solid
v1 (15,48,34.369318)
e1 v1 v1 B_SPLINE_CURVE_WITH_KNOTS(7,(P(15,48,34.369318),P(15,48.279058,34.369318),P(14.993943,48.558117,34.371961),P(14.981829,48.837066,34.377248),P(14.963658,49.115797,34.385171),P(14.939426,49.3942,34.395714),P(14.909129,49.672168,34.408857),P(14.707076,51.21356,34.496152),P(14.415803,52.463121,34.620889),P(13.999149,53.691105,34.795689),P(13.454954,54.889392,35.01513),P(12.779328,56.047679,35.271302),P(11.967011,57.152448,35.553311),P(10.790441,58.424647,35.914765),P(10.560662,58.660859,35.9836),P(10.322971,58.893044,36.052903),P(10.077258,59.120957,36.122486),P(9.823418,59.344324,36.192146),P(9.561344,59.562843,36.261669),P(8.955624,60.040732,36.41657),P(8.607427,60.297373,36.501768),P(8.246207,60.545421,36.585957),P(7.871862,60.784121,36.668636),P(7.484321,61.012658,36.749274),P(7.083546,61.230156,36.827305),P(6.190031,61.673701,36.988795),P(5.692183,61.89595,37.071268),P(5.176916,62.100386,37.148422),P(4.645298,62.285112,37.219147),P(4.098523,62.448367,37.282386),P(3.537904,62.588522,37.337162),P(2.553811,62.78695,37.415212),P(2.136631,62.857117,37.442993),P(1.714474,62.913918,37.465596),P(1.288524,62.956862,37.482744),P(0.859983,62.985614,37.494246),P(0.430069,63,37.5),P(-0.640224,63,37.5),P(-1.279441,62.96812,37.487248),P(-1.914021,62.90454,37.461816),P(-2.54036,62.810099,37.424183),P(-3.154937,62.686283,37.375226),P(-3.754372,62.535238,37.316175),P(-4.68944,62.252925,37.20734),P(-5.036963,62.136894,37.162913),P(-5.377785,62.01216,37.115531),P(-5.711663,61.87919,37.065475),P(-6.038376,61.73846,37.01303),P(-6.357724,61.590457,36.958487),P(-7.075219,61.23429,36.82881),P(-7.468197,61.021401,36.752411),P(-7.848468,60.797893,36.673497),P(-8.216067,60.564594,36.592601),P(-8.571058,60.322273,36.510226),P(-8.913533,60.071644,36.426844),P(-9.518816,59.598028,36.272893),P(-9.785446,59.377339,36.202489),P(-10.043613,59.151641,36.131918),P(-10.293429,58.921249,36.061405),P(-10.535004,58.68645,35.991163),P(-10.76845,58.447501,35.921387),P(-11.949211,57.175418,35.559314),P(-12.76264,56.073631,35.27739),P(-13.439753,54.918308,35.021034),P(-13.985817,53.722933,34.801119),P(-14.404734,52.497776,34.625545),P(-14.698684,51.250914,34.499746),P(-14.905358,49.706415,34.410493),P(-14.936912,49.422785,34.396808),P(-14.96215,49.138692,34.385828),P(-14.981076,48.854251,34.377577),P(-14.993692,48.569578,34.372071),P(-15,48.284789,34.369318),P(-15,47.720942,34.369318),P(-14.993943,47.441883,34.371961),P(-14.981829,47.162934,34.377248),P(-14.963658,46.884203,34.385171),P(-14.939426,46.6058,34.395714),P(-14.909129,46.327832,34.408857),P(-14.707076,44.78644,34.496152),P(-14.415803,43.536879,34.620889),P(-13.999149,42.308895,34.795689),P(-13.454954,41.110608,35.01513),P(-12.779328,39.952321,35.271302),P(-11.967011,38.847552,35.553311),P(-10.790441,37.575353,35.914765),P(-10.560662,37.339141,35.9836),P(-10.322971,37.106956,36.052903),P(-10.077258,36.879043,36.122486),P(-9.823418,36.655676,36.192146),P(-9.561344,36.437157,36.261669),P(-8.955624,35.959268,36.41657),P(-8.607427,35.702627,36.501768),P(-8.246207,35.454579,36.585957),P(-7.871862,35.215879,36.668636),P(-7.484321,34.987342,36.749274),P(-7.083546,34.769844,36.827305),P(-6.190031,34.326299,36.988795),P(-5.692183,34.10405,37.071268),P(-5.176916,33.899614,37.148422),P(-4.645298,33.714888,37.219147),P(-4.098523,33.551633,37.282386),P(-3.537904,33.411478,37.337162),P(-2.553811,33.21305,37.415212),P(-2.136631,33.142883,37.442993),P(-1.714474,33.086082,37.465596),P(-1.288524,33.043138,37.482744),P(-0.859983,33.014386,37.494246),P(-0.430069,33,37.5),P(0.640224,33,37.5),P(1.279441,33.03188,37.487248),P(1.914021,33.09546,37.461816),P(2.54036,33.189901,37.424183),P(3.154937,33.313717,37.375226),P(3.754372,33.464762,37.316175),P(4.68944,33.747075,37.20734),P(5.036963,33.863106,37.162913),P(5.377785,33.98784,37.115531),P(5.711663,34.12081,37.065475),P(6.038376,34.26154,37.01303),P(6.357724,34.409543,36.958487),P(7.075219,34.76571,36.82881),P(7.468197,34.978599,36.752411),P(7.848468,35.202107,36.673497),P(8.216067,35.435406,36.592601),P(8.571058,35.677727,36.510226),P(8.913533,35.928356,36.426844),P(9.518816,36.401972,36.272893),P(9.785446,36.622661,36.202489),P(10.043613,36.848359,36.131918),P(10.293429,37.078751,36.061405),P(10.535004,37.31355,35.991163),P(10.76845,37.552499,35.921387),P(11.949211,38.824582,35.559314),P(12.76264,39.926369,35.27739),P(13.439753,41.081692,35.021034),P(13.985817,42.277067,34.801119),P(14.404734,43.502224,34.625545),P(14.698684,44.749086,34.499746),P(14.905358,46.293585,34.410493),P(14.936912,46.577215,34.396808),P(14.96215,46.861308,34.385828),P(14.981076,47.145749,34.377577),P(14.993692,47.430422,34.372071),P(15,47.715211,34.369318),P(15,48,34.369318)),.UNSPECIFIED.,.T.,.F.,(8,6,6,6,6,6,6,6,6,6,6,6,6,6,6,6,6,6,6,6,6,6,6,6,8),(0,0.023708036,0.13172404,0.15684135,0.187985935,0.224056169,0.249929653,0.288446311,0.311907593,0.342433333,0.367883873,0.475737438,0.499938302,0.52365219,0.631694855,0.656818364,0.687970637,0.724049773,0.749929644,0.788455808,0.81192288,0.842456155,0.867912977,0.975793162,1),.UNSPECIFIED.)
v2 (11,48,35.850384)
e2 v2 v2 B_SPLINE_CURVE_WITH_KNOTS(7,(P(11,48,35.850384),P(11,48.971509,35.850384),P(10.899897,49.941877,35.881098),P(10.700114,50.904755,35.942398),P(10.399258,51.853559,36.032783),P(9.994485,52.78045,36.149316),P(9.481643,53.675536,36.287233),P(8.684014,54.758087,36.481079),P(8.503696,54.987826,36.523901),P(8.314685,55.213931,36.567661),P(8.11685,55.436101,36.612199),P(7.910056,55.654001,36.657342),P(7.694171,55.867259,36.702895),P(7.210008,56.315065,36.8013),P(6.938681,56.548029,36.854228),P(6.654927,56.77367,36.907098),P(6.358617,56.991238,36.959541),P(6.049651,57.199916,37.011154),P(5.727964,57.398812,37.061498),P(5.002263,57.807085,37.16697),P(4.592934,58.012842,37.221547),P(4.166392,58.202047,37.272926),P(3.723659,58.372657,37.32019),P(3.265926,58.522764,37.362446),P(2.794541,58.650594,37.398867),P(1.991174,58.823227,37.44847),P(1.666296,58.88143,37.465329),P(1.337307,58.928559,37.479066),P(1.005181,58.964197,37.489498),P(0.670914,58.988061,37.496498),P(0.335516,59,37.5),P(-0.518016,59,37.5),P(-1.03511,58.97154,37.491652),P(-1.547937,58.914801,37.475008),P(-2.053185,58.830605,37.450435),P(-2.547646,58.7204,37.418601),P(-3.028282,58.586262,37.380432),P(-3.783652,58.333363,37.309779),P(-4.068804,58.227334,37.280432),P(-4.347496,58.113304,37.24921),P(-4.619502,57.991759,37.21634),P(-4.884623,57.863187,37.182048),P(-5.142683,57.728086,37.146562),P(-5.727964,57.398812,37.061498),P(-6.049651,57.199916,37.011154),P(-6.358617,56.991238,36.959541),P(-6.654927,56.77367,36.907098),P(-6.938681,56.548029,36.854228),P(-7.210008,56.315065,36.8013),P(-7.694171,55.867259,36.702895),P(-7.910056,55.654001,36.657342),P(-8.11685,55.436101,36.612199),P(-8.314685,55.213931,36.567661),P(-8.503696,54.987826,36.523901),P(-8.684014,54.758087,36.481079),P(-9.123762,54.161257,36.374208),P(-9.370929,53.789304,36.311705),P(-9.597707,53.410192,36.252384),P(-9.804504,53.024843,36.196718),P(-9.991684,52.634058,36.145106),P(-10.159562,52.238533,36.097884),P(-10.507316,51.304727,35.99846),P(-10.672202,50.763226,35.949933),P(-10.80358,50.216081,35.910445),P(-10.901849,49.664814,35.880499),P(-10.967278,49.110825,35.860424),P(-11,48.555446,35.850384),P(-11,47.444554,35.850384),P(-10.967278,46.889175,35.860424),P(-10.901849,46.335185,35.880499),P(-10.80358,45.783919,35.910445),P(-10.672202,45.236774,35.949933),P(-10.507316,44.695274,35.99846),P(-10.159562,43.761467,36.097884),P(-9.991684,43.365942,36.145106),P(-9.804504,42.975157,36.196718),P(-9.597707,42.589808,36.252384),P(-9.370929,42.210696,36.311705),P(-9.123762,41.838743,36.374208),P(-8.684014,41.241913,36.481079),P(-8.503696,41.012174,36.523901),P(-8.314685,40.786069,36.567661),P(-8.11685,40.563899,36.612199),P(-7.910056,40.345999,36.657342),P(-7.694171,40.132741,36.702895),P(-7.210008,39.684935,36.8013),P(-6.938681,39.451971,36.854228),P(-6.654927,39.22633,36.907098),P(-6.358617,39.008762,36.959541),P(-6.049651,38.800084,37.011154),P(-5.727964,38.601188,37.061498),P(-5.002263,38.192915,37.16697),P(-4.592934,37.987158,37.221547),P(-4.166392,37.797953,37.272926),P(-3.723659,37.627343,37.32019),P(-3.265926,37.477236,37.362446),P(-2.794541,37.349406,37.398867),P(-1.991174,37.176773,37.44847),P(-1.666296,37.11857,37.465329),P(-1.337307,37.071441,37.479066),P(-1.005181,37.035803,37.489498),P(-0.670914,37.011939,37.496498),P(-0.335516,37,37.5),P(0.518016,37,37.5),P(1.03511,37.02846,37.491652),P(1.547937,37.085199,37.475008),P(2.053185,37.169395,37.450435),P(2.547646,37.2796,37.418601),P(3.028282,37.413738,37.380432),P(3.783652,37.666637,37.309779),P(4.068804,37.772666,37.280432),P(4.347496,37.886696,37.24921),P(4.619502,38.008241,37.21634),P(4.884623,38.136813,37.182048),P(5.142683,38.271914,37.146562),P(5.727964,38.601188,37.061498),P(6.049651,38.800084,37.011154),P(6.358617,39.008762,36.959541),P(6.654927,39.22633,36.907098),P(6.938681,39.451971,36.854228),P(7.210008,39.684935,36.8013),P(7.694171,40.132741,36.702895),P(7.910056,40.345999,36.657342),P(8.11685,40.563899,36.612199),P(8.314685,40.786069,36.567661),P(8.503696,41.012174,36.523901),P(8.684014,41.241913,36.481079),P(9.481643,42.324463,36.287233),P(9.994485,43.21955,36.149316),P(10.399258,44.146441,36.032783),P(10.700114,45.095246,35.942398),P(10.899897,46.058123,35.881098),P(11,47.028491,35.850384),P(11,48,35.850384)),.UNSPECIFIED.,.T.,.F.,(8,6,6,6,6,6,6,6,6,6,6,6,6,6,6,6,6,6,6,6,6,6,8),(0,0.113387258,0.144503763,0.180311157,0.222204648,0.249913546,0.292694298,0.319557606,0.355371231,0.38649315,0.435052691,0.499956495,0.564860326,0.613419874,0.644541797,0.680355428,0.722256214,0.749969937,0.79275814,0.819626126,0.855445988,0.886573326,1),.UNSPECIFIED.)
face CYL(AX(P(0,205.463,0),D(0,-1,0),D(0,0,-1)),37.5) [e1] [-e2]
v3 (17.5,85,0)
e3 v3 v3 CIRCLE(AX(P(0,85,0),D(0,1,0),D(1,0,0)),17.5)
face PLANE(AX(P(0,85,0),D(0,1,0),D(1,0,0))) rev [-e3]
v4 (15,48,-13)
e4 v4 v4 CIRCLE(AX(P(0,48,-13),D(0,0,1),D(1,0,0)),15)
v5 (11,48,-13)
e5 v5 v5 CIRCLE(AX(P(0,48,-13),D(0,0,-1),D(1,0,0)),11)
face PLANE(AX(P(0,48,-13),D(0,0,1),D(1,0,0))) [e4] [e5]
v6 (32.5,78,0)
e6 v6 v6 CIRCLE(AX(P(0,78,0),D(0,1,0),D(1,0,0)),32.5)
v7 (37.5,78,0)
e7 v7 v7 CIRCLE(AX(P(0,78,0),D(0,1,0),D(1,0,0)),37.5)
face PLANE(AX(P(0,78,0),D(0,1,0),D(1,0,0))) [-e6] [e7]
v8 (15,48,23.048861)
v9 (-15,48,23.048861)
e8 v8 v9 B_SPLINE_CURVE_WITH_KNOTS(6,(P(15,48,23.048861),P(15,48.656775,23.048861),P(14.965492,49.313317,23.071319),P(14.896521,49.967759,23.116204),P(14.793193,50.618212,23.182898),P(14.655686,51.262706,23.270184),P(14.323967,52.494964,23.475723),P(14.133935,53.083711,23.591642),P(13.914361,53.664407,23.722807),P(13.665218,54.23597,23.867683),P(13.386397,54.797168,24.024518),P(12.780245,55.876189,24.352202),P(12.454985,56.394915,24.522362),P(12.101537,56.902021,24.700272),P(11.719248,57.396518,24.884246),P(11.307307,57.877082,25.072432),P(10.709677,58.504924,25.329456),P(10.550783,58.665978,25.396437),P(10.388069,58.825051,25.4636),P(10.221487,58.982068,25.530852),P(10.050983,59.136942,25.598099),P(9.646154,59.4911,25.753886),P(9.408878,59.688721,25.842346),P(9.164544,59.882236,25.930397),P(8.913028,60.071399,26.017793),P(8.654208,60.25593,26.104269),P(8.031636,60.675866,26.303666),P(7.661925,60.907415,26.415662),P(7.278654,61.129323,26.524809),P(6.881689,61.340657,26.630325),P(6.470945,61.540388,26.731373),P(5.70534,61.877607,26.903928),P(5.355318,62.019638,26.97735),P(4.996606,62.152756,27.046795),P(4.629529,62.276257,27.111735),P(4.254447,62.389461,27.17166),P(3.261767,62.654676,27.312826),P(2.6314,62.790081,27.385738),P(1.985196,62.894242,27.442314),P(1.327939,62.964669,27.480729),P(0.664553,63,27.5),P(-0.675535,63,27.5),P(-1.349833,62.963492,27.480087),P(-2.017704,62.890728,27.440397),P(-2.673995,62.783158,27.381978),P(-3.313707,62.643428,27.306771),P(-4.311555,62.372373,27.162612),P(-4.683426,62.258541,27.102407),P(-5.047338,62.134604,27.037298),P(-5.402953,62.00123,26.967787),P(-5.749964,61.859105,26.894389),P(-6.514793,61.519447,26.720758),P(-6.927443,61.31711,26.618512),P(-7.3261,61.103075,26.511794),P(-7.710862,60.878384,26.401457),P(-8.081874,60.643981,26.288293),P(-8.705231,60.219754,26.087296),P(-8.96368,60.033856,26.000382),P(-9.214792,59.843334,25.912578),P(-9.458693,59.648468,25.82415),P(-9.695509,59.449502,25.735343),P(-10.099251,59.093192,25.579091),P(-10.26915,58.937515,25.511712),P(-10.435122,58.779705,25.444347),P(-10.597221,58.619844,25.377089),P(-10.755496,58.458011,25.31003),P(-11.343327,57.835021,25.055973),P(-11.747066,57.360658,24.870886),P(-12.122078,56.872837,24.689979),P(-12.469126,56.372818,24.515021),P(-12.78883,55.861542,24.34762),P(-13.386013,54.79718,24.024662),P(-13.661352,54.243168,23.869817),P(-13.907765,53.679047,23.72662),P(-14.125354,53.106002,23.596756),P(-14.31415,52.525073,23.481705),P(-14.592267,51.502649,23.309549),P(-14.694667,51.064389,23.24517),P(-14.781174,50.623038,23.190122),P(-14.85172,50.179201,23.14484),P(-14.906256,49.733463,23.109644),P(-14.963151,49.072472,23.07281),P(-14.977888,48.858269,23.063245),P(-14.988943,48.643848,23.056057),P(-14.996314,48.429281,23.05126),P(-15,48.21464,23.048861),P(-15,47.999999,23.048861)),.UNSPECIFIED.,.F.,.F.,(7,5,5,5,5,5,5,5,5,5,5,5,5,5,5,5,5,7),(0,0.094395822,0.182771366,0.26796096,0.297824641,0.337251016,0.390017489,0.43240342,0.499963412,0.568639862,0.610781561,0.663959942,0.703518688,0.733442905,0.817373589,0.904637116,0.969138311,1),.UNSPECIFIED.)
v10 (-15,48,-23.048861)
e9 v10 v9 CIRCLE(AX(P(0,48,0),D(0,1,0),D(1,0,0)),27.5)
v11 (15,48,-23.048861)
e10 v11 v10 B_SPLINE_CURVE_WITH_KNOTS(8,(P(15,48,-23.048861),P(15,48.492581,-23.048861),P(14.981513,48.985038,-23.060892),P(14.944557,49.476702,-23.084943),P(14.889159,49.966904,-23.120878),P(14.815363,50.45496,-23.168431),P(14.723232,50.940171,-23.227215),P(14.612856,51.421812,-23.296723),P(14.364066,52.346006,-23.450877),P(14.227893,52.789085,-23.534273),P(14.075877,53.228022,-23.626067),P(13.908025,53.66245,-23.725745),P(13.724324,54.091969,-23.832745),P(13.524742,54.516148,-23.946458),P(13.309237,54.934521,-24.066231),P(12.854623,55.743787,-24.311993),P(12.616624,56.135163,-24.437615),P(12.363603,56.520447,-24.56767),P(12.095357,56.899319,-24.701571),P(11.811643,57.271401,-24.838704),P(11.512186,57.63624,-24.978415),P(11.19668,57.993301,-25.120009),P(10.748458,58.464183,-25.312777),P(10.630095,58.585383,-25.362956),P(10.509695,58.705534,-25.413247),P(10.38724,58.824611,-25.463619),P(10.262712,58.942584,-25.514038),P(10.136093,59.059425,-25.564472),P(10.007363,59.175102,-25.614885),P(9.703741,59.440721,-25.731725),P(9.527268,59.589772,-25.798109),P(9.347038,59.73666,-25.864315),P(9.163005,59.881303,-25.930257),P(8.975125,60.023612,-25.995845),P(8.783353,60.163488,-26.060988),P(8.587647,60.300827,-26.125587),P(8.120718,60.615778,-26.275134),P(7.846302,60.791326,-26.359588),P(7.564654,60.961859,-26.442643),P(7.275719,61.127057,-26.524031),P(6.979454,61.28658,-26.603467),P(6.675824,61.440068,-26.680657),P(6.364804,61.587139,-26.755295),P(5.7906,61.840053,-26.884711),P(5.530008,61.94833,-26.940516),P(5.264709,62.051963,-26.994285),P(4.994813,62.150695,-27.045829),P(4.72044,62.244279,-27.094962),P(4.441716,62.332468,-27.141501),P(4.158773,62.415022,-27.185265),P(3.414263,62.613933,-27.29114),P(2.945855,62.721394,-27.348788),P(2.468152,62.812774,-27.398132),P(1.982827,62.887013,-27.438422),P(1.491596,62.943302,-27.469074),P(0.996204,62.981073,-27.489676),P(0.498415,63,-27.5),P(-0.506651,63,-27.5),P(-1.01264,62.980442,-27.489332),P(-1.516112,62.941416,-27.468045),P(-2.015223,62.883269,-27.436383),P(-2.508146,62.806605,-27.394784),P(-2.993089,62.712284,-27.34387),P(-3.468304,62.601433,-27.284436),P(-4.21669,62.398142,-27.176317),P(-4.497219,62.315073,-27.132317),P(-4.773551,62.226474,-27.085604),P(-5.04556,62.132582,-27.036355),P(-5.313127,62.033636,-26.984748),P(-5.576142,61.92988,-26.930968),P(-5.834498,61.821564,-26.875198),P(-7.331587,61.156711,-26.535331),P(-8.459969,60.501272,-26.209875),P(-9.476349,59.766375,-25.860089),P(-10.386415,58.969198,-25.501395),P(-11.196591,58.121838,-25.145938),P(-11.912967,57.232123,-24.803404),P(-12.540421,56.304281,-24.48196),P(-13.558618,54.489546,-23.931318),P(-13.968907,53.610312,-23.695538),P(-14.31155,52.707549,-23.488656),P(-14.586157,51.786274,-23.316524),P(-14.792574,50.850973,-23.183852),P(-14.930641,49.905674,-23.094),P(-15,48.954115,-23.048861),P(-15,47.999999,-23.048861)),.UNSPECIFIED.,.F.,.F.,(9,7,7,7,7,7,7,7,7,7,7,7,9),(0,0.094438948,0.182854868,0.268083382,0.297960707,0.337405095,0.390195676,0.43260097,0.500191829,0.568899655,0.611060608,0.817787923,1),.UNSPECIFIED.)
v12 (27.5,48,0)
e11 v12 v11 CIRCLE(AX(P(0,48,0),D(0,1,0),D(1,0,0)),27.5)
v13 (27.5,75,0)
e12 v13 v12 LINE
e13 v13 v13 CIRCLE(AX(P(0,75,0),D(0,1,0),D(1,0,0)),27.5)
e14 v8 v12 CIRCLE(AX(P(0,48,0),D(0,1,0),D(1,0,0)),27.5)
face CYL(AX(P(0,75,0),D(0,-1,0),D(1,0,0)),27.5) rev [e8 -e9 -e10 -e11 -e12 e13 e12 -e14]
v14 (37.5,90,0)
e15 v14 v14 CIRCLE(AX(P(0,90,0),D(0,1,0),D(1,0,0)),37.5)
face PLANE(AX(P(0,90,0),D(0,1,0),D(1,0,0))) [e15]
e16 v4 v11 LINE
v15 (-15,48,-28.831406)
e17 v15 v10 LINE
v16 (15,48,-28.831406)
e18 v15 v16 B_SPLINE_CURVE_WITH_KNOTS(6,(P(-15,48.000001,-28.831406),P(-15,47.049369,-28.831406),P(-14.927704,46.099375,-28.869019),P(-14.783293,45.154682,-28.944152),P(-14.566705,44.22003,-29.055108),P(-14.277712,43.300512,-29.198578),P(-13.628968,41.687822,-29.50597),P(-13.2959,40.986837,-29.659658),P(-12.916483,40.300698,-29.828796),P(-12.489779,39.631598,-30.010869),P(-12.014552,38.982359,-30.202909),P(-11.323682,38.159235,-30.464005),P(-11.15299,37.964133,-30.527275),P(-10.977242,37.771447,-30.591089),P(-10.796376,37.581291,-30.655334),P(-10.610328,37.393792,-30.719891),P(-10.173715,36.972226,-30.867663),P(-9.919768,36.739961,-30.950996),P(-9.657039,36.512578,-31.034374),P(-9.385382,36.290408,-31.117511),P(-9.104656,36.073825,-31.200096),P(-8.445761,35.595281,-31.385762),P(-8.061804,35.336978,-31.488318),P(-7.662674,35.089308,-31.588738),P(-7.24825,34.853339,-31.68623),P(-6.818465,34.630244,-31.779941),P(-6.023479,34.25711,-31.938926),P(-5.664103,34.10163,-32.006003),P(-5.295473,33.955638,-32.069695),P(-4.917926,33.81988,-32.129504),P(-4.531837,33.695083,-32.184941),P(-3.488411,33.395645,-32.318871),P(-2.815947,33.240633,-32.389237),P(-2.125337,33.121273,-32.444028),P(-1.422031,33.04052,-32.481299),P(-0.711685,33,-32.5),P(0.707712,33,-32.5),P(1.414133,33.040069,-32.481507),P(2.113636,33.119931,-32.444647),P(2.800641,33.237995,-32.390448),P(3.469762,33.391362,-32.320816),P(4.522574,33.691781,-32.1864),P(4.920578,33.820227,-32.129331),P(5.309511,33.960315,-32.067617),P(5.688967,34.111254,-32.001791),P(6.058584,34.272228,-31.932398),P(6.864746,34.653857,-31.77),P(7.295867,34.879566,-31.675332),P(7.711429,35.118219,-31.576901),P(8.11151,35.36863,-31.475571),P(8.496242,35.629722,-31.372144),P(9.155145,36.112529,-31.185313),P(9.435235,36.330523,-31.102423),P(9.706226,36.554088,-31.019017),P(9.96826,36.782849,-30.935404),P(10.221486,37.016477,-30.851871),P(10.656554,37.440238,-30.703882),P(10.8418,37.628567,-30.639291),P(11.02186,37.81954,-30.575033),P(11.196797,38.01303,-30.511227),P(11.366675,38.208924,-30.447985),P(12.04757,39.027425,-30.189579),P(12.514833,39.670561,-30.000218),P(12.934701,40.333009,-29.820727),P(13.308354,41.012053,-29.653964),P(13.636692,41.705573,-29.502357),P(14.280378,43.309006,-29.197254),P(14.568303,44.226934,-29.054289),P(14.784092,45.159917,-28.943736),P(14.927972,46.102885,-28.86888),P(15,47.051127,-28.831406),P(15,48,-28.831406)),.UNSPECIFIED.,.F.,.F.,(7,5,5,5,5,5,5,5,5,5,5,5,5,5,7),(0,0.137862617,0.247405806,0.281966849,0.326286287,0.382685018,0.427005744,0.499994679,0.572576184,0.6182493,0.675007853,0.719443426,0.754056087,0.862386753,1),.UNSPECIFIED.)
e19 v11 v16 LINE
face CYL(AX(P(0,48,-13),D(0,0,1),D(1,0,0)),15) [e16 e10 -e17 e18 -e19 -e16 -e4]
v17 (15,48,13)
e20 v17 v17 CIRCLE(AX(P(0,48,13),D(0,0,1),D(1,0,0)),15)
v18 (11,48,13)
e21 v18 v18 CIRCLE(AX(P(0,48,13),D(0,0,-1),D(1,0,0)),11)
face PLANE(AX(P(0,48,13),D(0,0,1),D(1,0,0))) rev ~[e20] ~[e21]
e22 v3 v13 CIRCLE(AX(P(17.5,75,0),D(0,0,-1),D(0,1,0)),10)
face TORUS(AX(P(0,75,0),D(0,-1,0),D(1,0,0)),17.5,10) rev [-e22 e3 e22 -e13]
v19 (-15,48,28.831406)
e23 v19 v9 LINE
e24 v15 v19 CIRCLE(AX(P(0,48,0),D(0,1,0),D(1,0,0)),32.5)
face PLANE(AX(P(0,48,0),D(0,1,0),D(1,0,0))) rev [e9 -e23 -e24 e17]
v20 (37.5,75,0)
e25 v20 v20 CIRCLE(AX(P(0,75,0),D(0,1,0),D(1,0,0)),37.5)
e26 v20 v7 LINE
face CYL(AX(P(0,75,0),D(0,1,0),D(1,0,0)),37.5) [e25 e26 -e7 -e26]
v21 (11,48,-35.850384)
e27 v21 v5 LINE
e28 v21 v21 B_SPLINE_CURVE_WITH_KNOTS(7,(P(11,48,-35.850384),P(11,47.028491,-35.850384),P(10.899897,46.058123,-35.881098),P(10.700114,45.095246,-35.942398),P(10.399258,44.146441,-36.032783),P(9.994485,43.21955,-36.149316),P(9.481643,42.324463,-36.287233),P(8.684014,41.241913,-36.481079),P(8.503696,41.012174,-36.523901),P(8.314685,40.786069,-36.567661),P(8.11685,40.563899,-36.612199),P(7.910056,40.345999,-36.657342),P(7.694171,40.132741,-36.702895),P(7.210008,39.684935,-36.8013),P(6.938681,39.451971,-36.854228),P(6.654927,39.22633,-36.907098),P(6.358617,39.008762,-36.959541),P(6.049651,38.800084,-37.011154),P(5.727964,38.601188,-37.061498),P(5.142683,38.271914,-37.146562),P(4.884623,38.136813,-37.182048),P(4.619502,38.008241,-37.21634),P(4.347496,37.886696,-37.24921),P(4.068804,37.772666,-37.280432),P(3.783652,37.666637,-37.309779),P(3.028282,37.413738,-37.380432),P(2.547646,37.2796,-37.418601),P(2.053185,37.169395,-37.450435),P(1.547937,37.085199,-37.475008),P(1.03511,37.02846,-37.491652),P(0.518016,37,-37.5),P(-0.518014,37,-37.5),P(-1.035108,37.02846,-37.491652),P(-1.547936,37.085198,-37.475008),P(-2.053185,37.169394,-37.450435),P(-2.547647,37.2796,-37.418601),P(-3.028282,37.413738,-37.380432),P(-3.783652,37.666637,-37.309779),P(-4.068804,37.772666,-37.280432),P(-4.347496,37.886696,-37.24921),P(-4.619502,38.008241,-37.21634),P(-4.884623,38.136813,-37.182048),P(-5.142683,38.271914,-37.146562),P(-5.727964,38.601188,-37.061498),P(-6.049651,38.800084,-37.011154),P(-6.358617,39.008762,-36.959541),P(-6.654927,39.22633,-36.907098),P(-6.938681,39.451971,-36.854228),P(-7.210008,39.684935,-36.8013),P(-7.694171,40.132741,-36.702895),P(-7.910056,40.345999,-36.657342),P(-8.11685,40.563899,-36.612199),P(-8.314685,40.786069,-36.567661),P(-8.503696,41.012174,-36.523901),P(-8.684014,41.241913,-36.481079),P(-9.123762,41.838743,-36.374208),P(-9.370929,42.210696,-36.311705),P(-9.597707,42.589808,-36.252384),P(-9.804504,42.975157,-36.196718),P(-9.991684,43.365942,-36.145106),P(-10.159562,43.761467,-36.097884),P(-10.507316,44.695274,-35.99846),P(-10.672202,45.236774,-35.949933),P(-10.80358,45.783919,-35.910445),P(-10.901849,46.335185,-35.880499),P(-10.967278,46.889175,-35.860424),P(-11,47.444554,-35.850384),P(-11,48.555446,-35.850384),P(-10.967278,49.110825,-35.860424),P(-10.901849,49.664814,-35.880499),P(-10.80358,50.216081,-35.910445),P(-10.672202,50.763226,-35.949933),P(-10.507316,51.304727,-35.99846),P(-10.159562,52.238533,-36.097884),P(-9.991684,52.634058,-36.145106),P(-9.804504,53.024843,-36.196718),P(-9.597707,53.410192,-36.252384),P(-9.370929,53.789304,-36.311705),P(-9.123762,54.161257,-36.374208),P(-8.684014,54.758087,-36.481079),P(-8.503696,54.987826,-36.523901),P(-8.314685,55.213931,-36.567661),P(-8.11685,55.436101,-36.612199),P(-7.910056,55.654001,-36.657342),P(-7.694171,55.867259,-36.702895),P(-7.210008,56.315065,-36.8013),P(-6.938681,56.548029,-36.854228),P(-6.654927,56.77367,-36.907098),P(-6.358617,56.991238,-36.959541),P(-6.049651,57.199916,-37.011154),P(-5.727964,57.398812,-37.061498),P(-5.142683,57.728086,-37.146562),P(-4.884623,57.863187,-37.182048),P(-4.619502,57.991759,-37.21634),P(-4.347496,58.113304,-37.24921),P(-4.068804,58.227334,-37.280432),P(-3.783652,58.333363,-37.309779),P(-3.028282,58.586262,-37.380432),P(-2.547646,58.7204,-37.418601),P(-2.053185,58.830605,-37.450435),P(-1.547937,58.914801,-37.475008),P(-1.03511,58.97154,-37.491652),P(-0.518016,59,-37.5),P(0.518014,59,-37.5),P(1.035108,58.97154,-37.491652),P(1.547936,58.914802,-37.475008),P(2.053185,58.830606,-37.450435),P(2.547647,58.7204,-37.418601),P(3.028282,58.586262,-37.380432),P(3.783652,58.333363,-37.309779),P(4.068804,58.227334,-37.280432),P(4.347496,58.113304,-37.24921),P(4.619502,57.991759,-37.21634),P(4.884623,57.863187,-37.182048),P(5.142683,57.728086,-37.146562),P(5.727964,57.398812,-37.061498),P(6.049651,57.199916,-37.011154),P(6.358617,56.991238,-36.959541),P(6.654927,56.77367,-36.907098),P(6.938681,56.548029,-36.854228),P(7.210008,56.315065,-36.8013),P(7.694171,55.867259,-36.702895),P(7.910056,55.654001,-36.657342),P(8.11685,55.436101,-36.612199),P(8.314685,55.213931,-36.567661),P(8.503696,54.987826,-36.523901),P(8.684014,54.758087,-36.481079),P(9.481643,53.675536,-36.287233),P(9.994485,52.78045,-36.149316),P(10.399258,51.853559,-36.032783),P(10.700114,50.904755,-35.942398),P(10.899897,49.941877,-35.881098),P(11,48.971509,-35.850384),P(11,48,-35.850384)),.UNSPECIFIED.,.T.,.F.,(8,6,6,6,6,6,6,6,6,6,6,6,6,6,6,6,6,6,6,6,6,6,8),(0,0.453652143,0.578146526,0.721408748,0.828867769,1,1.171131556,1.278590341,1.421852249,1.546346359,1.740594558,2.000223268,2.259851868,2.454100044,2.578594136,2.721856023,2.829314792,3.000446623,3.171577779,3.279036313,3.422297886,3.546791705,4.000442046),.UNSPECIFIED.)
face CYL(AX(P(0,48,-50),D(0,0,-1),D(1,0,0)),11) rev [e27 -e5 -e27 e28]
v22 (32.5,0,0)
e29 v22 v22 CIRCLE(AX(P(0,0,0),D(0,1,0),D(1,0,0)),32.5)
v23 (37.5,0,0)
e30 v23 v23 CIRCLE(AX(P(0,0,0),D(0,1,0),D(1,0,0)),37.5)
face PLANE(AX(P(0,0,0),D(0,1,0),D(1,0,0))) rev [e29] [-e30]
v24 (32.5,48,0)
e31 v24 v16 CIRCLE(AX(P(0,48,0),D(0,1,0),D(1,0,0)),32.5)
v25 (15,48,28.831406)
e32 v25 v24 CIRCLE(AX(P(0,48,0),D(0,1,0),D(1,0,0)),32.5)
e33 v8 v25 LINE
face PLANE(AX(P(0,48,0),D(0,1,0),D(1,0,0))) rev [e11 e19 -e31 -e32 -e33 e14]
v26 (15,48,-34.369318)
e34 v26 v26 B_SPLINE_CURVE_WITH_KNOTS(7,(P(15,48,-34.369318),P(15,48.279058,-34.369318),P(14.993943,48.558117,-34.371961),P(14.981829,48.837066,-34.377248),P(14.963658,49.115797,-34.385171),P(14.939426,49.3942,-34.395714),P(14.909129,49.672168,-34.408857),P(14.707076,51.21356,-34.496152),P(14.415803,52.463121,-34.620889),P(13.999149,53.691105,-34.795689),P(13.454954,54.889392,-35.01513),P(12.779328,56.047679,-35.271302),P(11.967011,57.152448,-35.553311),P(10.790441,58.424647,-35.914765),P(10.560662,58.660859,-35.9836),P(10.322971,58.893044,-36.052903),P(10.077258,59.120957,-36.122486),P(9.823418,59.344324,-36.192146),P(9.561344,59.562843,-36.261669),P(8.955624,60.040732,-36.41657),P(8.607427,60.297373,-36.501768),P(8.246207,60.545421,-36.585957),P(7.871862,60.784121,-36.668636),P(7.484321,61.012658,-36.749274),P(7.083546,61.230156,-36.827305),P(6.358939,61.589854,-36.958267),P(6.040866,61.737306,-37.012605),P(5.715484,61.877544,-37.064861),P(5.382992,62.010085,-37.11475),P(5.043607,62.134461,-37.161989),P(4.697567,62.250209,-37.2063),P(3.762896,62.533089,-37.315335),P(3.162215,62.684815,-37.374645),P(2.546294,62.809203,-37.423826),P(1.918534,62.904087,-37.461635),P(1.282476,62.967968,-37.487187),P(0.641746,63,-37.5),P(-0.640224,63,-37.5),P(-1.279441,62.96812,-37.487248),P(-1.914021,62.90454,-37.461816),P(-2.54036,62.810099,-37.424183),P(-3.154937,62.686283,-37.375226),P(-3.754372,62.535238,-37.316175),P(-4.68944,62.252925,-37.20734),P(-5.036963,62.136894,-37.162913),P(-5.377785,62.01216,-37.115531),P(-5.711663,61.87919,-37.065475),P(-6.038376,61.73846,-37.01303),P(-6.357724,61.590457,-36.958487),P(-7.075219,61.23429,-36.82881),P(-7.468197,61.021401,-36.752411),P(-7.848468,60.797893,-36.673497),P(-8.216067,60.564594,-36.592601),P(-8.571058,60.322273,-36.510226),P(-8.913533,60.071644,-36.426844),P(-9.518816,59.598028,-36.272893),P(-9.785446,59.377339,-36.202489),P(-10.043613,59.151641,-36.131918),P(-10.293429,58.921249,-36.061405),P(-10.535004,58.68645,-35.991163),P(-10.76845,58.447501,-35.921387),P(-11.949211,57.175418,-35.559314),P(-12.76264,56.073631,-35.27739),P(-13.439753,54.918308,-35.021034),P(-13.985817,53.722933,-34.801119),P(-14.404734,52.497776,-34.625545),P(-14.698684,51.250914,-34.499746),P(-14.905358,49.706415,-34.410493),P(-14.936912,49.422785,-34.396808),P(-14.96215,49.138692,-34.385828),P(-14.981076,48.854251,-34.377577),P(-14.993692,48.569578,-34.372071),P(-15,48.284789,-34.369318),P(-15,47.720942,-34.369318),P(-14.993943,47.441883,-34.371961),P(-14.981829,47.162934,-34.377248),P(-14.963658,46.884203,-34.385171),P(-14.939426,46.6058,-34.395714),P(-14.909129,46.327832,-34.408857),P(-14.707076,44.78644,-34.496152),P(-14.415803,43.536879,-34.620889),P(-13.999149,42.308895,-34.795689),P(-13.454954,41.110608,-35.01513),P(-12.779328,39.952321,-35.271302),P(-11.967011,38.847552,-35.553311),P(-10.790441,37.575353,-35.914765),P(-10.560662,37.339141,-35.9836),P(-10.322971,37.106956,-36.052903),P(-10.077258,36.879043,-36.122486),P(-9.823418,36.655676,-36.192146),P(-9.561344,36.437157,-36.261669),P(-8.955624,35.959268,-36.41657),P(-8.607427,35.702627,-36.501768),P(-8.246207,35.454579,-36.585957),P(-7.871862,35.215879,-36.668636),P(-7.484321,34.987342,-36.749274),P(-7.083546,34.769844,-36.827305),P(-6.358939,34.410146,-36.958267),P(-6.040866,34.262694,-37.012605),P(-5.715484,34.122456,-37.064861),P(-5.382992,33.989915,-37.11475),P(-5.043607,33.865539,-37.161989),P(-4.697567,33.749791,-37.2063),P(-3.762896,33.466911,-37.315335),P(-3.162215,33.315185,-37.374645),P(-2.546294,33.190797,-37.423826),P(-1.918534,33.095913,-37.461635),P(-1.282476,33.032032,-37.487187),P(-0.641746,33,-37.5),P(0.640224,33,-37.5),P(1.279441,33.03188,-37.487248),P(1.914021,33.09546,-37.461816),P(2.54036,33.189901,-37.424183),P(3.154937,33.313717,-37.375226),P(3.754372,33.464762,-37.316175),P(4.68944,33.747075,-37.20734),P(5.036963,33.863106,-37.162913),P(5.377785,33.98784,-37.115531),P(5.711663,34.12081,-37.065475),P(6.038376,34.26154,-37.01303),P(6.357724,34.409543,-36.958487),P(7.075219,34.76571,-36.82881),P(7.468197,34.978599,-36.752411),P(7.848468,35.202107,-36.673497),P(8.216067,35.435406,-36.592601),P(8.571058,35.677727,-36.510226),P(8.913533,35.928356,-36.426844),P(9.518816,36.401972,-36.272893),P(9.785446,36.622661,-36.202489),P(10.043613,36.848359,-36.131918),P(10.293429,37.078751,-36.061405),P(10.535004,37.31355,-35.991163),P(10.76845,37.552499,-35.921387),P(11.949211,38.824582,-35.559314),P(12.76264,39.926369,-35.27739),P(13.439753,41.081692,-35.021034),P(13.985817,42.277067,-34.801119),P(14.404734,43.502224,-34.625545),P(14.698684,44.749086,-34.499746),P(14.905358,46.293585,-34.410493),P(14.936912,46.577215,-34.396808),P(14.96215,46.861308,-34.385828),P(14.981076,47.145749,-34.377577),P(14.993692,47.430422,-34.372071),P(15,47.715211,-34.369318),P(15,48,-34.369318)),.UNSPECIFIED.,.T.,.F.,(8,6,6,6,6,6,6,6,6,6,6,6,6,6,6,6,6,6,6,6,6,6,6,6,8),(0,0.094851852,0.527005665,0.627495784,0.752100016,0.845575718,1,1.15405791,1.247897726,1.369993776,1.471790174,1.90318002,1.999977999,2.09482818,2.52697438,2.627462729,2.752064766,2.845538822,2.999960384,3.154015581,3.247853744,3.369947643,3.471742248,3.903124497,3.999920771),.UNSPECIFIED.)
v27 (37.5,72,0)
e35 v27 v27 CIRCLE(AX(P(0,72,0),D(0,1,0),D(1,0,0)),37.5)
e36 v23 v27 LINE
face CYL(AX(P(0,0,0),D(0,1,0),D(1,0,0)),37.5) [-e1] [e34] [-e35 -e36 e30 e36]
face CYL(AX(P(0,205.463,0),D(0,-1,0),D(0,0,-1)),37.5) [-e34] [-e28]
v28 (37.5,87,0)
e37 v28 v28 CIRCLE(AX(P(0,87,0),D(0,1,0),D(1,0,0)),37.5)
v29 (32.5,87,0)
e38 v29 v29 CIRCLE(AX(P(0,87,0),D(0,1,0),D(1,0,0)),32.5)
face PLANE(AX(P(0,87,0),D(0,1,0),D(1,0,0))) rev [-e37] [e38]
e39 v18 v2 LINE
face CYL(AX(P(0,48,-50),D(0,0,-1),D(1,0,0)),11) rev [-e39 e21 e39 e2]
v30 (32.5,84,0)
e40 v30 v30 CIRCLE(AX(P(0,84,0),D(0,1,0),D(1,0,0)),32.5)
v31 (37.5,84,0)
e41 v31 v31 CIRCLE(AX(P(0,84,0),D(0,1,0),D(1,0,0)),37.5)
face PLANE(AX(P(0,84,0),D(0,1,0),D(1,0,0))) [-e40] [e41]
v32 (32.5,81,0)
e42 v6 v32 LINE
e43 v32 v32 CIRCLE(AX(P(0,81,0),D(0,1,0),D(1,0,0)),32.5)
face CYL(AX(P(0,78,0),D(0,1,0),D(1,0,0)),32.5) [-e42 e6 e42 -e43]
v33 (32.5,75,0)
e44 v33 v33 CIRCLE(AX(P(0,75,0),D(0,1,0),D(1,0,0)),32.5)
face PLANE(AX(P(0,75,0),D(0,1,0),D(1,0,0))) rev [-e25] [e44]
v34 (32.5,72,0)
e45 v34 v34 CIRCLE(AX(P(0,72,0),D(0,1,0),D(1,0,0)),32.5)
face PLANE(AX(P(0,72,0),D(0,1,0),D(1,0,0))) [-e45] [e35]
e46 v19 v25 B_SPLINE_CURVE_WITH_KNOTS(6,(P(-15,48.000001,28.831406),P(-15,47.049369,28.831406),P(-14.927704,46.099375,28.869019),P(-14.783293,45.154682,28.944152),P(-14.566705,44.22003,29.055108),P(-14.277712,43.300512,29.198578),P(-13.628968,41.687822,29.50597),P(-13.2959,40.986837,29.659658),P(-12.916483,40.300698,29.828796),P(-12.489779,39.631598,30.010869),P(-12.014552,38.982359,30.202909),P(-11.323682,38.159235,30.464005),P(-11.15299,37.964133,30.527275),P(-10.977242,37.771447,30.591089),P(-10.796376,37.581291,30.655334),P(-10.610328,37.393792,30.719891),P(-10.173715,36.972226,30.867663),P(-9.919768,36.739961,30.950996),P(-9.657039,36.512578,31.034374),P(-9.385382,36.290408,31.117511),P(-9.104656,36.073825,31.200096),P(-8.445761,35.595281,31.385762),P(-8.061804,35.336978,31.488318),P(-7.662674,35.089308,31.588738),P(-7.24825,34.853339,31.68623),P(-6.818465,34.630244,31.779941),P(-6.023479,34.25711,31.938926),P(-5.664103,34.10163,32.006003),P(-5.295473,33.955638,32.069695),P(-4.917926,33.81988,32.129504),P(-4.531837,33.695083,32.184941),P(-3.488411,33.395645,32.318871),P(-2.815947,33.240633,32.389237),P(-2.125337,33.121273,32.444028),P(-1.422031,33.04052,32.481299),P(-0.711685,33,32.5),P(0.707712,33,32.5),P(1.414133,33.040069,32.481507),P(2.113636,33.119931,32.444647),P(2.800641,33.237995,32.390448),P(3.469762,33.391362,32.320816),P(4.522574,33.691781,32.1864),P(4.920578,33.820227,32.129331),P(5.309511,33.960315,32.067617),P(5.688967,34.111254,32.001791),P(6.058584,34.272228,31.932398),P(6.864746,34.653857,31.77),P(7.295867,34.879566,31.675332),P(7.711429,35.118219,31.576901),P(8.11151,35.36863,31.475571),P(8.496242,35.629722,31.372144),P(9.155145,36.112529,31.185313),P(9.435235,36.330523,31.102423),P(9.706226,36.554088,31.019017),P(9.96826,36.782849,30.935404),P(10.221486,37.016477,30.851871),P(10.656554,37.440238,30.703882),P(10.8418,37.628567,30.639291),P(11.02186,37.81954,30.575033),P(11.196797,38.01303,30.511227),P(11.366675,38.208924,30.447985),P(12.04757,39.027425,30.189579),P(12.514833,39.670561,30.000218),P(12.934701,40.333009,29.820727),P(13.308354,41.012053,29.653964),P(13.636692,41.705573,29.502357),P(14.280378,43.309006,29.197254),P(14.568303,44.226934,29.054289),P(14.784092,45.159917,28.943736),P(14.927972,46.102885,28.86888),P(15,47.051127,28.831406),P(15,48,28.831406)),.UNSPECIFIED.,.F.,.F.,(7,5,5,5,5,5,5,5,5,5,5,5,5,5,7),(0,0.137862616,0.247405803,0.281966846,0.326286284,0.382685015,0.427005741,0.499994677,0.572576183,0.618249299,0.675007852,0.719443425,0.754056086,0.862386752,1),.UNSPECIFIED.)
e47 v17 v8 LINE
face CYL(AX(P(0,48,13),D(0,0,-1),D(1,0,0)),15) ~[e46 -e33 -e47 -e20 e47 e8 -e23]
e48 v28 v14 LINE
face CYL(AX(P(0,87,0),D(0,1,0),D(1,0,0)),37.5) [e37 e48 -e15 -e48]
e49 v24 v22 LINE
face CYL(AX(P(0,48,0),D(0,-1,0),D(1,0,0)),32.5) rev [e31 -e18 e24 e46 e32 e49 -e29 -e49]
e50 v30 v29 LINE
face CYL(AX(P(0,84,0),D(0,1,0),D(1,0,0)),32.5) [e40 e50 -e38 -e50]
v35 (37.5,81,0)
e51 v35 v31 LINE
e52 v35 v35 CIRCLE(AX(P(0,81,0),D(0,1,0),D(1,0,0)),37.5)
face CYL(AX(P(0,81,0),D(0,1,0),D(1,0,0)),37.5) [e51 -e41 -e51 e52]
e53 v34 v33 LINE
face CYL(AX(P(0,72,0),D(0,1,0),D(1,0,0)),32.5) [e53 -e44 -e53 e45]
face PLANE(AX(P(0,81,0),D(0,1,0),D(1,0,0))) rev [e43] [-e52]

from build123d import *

# Parameters (mm, degrees)
BOSS_EXTRUDE4_REACH      = 119.463
BOSS_EXTRUDE4_END_RADIUS = 37.5
BOSS_EXTRUDE4_START      = -13
SKETCH2_R                = 15
BOSS_EXTRUDE5_REACH      = 119.463
BOSS_EXTRUDE5_END_RADIUS = 37.5
BOSS_EXTRUDE5_START      = 13
SKETCH2_3_R              = 15
CUT_EXTRUDE2_DEPTH       = 50
CUT_EXTRUDE2_DEPTH_BACK  = 50
SKETCH4_R                = 11


with BuildPart() as part:
    # Sketch1 → Revolve1 (revolve)
    with BuildSketch(Plane.XY):
        with BuildLine():
            Line((32.5, 0), (37.5, 0))
            Line((37.5, 0), (37.5, 72))
            Line((37.5, 72), (32.5, 72))
            Line((32.5, 72), (32.5, 75))
            Line((32.5, 75), (37.5, 75))
            Line((37.5, 75), (37.5, 78))
            Line((37.5, 78), (32.5, 78))
            Line((32.5, 78), (32.5, 81))
            Line((32.5, 81), (37.5, 81))
            Line((37.5, 81), (37.5, 84))
            Line((37.5, 84), (32.5, 84))
            Line((32.5, 84), (32.5, 87))
            Line((32.5, 87), (37.5, 87))
            Line((37.5, 87), (37.5, 90))
            Line((37.5, 90), (0, 90))
            Line((0, 90), (0, 85))
            Line((0, 85), (17.5, 85))
            ThreePointArc((17.5, 85), (24.571067812, 82.071067812), (27.5, 75))
            Line((27.5, 75), (27.5, 48))
            Line((27.5, 48), (32.5, 48))
            Line((32.5, 48), (32.5, 0))
        make_face()
    revolve(axis=Axis((0, 0, 0), (0, 1, 0)))

    # Boss-Extrude4: up to this cylinder (the profile starts inside it)
    boss_extrude4_end = Plane(origin=(0, 48, 0), z_dir=(0, -1, 0)) * Cylinder(BOSS_EXTRUDE4_END_RADIUS, 314.926, mode=Mode.PRIVATE)
    # Sketch2 → Boss-Extrude4 (add, up to the surface)
    with BuildSketch(Plane.XY.offset(BOSS_EXTRUDE4_START), mode=Mode.PRIVATE) as boss_extrude4_sk1:
        with Locations((0, 48)):
            Circle(SKETCH2_R)
    boss_extrude4_tool1 = extrude(boss_extrude4_sk1.sketch, amount=-BOSS_EXTRUDE4_REACH, mode=Mode.PRIVATE) & boss_extrude4_end
    add(boss_extrude4_tool1.solids().sort_by_distance((0, 48, -13))[0])

    # Boss-Extrude5: up to this cylinder (the profile starts inside it)
    boss_extrude5_end = Plane(origin=(0, 48, 0), z_dir=(0, -1, 0)) * Cylinder(BOSS_EXTRUDE5_END_RADIUS, 314.926, mode=Mode.PRIVATE)
    # Sketch2<3> → Boss-Extrude5 (add, up to the surface)
    with BuildSketch(Plane.XY.offset(BOSS_EXTRUDE5_START), mode=Mode.PRIVATE) as boss_extrude5_sk1:
        with Locations((0, 48)):
            Circle(SKETCH2_3_R)
    boss_extrude5_tool1 = extrude(boss_extrude5_sk1.sketch, amount=BOSS_EXTRUDE5_REACH, mode=Mode.PRIVATE) & boss_extrude5_end
    add(boss_extrude5_tool1.solids().sort_by_distance((0, 48, 13))[0])

    # Sketch4 → Cut-Extrude2 (cut, two sides: drawn at the far end of the back side and taken through both)
    with BuildSketch(Plane.XY.offset(-CUT_EXTRUDE2_DEPTH_BACK)):
        with Locations((0, 48)):
            Circle(SKETCH4_R)
    extrude(amount=CUT_EXTRUDE2_DEPTH + CUT_EXTRUDE2_DEPTH_BACK, mode=Mode.SUBTRACT)


solid = part.part
